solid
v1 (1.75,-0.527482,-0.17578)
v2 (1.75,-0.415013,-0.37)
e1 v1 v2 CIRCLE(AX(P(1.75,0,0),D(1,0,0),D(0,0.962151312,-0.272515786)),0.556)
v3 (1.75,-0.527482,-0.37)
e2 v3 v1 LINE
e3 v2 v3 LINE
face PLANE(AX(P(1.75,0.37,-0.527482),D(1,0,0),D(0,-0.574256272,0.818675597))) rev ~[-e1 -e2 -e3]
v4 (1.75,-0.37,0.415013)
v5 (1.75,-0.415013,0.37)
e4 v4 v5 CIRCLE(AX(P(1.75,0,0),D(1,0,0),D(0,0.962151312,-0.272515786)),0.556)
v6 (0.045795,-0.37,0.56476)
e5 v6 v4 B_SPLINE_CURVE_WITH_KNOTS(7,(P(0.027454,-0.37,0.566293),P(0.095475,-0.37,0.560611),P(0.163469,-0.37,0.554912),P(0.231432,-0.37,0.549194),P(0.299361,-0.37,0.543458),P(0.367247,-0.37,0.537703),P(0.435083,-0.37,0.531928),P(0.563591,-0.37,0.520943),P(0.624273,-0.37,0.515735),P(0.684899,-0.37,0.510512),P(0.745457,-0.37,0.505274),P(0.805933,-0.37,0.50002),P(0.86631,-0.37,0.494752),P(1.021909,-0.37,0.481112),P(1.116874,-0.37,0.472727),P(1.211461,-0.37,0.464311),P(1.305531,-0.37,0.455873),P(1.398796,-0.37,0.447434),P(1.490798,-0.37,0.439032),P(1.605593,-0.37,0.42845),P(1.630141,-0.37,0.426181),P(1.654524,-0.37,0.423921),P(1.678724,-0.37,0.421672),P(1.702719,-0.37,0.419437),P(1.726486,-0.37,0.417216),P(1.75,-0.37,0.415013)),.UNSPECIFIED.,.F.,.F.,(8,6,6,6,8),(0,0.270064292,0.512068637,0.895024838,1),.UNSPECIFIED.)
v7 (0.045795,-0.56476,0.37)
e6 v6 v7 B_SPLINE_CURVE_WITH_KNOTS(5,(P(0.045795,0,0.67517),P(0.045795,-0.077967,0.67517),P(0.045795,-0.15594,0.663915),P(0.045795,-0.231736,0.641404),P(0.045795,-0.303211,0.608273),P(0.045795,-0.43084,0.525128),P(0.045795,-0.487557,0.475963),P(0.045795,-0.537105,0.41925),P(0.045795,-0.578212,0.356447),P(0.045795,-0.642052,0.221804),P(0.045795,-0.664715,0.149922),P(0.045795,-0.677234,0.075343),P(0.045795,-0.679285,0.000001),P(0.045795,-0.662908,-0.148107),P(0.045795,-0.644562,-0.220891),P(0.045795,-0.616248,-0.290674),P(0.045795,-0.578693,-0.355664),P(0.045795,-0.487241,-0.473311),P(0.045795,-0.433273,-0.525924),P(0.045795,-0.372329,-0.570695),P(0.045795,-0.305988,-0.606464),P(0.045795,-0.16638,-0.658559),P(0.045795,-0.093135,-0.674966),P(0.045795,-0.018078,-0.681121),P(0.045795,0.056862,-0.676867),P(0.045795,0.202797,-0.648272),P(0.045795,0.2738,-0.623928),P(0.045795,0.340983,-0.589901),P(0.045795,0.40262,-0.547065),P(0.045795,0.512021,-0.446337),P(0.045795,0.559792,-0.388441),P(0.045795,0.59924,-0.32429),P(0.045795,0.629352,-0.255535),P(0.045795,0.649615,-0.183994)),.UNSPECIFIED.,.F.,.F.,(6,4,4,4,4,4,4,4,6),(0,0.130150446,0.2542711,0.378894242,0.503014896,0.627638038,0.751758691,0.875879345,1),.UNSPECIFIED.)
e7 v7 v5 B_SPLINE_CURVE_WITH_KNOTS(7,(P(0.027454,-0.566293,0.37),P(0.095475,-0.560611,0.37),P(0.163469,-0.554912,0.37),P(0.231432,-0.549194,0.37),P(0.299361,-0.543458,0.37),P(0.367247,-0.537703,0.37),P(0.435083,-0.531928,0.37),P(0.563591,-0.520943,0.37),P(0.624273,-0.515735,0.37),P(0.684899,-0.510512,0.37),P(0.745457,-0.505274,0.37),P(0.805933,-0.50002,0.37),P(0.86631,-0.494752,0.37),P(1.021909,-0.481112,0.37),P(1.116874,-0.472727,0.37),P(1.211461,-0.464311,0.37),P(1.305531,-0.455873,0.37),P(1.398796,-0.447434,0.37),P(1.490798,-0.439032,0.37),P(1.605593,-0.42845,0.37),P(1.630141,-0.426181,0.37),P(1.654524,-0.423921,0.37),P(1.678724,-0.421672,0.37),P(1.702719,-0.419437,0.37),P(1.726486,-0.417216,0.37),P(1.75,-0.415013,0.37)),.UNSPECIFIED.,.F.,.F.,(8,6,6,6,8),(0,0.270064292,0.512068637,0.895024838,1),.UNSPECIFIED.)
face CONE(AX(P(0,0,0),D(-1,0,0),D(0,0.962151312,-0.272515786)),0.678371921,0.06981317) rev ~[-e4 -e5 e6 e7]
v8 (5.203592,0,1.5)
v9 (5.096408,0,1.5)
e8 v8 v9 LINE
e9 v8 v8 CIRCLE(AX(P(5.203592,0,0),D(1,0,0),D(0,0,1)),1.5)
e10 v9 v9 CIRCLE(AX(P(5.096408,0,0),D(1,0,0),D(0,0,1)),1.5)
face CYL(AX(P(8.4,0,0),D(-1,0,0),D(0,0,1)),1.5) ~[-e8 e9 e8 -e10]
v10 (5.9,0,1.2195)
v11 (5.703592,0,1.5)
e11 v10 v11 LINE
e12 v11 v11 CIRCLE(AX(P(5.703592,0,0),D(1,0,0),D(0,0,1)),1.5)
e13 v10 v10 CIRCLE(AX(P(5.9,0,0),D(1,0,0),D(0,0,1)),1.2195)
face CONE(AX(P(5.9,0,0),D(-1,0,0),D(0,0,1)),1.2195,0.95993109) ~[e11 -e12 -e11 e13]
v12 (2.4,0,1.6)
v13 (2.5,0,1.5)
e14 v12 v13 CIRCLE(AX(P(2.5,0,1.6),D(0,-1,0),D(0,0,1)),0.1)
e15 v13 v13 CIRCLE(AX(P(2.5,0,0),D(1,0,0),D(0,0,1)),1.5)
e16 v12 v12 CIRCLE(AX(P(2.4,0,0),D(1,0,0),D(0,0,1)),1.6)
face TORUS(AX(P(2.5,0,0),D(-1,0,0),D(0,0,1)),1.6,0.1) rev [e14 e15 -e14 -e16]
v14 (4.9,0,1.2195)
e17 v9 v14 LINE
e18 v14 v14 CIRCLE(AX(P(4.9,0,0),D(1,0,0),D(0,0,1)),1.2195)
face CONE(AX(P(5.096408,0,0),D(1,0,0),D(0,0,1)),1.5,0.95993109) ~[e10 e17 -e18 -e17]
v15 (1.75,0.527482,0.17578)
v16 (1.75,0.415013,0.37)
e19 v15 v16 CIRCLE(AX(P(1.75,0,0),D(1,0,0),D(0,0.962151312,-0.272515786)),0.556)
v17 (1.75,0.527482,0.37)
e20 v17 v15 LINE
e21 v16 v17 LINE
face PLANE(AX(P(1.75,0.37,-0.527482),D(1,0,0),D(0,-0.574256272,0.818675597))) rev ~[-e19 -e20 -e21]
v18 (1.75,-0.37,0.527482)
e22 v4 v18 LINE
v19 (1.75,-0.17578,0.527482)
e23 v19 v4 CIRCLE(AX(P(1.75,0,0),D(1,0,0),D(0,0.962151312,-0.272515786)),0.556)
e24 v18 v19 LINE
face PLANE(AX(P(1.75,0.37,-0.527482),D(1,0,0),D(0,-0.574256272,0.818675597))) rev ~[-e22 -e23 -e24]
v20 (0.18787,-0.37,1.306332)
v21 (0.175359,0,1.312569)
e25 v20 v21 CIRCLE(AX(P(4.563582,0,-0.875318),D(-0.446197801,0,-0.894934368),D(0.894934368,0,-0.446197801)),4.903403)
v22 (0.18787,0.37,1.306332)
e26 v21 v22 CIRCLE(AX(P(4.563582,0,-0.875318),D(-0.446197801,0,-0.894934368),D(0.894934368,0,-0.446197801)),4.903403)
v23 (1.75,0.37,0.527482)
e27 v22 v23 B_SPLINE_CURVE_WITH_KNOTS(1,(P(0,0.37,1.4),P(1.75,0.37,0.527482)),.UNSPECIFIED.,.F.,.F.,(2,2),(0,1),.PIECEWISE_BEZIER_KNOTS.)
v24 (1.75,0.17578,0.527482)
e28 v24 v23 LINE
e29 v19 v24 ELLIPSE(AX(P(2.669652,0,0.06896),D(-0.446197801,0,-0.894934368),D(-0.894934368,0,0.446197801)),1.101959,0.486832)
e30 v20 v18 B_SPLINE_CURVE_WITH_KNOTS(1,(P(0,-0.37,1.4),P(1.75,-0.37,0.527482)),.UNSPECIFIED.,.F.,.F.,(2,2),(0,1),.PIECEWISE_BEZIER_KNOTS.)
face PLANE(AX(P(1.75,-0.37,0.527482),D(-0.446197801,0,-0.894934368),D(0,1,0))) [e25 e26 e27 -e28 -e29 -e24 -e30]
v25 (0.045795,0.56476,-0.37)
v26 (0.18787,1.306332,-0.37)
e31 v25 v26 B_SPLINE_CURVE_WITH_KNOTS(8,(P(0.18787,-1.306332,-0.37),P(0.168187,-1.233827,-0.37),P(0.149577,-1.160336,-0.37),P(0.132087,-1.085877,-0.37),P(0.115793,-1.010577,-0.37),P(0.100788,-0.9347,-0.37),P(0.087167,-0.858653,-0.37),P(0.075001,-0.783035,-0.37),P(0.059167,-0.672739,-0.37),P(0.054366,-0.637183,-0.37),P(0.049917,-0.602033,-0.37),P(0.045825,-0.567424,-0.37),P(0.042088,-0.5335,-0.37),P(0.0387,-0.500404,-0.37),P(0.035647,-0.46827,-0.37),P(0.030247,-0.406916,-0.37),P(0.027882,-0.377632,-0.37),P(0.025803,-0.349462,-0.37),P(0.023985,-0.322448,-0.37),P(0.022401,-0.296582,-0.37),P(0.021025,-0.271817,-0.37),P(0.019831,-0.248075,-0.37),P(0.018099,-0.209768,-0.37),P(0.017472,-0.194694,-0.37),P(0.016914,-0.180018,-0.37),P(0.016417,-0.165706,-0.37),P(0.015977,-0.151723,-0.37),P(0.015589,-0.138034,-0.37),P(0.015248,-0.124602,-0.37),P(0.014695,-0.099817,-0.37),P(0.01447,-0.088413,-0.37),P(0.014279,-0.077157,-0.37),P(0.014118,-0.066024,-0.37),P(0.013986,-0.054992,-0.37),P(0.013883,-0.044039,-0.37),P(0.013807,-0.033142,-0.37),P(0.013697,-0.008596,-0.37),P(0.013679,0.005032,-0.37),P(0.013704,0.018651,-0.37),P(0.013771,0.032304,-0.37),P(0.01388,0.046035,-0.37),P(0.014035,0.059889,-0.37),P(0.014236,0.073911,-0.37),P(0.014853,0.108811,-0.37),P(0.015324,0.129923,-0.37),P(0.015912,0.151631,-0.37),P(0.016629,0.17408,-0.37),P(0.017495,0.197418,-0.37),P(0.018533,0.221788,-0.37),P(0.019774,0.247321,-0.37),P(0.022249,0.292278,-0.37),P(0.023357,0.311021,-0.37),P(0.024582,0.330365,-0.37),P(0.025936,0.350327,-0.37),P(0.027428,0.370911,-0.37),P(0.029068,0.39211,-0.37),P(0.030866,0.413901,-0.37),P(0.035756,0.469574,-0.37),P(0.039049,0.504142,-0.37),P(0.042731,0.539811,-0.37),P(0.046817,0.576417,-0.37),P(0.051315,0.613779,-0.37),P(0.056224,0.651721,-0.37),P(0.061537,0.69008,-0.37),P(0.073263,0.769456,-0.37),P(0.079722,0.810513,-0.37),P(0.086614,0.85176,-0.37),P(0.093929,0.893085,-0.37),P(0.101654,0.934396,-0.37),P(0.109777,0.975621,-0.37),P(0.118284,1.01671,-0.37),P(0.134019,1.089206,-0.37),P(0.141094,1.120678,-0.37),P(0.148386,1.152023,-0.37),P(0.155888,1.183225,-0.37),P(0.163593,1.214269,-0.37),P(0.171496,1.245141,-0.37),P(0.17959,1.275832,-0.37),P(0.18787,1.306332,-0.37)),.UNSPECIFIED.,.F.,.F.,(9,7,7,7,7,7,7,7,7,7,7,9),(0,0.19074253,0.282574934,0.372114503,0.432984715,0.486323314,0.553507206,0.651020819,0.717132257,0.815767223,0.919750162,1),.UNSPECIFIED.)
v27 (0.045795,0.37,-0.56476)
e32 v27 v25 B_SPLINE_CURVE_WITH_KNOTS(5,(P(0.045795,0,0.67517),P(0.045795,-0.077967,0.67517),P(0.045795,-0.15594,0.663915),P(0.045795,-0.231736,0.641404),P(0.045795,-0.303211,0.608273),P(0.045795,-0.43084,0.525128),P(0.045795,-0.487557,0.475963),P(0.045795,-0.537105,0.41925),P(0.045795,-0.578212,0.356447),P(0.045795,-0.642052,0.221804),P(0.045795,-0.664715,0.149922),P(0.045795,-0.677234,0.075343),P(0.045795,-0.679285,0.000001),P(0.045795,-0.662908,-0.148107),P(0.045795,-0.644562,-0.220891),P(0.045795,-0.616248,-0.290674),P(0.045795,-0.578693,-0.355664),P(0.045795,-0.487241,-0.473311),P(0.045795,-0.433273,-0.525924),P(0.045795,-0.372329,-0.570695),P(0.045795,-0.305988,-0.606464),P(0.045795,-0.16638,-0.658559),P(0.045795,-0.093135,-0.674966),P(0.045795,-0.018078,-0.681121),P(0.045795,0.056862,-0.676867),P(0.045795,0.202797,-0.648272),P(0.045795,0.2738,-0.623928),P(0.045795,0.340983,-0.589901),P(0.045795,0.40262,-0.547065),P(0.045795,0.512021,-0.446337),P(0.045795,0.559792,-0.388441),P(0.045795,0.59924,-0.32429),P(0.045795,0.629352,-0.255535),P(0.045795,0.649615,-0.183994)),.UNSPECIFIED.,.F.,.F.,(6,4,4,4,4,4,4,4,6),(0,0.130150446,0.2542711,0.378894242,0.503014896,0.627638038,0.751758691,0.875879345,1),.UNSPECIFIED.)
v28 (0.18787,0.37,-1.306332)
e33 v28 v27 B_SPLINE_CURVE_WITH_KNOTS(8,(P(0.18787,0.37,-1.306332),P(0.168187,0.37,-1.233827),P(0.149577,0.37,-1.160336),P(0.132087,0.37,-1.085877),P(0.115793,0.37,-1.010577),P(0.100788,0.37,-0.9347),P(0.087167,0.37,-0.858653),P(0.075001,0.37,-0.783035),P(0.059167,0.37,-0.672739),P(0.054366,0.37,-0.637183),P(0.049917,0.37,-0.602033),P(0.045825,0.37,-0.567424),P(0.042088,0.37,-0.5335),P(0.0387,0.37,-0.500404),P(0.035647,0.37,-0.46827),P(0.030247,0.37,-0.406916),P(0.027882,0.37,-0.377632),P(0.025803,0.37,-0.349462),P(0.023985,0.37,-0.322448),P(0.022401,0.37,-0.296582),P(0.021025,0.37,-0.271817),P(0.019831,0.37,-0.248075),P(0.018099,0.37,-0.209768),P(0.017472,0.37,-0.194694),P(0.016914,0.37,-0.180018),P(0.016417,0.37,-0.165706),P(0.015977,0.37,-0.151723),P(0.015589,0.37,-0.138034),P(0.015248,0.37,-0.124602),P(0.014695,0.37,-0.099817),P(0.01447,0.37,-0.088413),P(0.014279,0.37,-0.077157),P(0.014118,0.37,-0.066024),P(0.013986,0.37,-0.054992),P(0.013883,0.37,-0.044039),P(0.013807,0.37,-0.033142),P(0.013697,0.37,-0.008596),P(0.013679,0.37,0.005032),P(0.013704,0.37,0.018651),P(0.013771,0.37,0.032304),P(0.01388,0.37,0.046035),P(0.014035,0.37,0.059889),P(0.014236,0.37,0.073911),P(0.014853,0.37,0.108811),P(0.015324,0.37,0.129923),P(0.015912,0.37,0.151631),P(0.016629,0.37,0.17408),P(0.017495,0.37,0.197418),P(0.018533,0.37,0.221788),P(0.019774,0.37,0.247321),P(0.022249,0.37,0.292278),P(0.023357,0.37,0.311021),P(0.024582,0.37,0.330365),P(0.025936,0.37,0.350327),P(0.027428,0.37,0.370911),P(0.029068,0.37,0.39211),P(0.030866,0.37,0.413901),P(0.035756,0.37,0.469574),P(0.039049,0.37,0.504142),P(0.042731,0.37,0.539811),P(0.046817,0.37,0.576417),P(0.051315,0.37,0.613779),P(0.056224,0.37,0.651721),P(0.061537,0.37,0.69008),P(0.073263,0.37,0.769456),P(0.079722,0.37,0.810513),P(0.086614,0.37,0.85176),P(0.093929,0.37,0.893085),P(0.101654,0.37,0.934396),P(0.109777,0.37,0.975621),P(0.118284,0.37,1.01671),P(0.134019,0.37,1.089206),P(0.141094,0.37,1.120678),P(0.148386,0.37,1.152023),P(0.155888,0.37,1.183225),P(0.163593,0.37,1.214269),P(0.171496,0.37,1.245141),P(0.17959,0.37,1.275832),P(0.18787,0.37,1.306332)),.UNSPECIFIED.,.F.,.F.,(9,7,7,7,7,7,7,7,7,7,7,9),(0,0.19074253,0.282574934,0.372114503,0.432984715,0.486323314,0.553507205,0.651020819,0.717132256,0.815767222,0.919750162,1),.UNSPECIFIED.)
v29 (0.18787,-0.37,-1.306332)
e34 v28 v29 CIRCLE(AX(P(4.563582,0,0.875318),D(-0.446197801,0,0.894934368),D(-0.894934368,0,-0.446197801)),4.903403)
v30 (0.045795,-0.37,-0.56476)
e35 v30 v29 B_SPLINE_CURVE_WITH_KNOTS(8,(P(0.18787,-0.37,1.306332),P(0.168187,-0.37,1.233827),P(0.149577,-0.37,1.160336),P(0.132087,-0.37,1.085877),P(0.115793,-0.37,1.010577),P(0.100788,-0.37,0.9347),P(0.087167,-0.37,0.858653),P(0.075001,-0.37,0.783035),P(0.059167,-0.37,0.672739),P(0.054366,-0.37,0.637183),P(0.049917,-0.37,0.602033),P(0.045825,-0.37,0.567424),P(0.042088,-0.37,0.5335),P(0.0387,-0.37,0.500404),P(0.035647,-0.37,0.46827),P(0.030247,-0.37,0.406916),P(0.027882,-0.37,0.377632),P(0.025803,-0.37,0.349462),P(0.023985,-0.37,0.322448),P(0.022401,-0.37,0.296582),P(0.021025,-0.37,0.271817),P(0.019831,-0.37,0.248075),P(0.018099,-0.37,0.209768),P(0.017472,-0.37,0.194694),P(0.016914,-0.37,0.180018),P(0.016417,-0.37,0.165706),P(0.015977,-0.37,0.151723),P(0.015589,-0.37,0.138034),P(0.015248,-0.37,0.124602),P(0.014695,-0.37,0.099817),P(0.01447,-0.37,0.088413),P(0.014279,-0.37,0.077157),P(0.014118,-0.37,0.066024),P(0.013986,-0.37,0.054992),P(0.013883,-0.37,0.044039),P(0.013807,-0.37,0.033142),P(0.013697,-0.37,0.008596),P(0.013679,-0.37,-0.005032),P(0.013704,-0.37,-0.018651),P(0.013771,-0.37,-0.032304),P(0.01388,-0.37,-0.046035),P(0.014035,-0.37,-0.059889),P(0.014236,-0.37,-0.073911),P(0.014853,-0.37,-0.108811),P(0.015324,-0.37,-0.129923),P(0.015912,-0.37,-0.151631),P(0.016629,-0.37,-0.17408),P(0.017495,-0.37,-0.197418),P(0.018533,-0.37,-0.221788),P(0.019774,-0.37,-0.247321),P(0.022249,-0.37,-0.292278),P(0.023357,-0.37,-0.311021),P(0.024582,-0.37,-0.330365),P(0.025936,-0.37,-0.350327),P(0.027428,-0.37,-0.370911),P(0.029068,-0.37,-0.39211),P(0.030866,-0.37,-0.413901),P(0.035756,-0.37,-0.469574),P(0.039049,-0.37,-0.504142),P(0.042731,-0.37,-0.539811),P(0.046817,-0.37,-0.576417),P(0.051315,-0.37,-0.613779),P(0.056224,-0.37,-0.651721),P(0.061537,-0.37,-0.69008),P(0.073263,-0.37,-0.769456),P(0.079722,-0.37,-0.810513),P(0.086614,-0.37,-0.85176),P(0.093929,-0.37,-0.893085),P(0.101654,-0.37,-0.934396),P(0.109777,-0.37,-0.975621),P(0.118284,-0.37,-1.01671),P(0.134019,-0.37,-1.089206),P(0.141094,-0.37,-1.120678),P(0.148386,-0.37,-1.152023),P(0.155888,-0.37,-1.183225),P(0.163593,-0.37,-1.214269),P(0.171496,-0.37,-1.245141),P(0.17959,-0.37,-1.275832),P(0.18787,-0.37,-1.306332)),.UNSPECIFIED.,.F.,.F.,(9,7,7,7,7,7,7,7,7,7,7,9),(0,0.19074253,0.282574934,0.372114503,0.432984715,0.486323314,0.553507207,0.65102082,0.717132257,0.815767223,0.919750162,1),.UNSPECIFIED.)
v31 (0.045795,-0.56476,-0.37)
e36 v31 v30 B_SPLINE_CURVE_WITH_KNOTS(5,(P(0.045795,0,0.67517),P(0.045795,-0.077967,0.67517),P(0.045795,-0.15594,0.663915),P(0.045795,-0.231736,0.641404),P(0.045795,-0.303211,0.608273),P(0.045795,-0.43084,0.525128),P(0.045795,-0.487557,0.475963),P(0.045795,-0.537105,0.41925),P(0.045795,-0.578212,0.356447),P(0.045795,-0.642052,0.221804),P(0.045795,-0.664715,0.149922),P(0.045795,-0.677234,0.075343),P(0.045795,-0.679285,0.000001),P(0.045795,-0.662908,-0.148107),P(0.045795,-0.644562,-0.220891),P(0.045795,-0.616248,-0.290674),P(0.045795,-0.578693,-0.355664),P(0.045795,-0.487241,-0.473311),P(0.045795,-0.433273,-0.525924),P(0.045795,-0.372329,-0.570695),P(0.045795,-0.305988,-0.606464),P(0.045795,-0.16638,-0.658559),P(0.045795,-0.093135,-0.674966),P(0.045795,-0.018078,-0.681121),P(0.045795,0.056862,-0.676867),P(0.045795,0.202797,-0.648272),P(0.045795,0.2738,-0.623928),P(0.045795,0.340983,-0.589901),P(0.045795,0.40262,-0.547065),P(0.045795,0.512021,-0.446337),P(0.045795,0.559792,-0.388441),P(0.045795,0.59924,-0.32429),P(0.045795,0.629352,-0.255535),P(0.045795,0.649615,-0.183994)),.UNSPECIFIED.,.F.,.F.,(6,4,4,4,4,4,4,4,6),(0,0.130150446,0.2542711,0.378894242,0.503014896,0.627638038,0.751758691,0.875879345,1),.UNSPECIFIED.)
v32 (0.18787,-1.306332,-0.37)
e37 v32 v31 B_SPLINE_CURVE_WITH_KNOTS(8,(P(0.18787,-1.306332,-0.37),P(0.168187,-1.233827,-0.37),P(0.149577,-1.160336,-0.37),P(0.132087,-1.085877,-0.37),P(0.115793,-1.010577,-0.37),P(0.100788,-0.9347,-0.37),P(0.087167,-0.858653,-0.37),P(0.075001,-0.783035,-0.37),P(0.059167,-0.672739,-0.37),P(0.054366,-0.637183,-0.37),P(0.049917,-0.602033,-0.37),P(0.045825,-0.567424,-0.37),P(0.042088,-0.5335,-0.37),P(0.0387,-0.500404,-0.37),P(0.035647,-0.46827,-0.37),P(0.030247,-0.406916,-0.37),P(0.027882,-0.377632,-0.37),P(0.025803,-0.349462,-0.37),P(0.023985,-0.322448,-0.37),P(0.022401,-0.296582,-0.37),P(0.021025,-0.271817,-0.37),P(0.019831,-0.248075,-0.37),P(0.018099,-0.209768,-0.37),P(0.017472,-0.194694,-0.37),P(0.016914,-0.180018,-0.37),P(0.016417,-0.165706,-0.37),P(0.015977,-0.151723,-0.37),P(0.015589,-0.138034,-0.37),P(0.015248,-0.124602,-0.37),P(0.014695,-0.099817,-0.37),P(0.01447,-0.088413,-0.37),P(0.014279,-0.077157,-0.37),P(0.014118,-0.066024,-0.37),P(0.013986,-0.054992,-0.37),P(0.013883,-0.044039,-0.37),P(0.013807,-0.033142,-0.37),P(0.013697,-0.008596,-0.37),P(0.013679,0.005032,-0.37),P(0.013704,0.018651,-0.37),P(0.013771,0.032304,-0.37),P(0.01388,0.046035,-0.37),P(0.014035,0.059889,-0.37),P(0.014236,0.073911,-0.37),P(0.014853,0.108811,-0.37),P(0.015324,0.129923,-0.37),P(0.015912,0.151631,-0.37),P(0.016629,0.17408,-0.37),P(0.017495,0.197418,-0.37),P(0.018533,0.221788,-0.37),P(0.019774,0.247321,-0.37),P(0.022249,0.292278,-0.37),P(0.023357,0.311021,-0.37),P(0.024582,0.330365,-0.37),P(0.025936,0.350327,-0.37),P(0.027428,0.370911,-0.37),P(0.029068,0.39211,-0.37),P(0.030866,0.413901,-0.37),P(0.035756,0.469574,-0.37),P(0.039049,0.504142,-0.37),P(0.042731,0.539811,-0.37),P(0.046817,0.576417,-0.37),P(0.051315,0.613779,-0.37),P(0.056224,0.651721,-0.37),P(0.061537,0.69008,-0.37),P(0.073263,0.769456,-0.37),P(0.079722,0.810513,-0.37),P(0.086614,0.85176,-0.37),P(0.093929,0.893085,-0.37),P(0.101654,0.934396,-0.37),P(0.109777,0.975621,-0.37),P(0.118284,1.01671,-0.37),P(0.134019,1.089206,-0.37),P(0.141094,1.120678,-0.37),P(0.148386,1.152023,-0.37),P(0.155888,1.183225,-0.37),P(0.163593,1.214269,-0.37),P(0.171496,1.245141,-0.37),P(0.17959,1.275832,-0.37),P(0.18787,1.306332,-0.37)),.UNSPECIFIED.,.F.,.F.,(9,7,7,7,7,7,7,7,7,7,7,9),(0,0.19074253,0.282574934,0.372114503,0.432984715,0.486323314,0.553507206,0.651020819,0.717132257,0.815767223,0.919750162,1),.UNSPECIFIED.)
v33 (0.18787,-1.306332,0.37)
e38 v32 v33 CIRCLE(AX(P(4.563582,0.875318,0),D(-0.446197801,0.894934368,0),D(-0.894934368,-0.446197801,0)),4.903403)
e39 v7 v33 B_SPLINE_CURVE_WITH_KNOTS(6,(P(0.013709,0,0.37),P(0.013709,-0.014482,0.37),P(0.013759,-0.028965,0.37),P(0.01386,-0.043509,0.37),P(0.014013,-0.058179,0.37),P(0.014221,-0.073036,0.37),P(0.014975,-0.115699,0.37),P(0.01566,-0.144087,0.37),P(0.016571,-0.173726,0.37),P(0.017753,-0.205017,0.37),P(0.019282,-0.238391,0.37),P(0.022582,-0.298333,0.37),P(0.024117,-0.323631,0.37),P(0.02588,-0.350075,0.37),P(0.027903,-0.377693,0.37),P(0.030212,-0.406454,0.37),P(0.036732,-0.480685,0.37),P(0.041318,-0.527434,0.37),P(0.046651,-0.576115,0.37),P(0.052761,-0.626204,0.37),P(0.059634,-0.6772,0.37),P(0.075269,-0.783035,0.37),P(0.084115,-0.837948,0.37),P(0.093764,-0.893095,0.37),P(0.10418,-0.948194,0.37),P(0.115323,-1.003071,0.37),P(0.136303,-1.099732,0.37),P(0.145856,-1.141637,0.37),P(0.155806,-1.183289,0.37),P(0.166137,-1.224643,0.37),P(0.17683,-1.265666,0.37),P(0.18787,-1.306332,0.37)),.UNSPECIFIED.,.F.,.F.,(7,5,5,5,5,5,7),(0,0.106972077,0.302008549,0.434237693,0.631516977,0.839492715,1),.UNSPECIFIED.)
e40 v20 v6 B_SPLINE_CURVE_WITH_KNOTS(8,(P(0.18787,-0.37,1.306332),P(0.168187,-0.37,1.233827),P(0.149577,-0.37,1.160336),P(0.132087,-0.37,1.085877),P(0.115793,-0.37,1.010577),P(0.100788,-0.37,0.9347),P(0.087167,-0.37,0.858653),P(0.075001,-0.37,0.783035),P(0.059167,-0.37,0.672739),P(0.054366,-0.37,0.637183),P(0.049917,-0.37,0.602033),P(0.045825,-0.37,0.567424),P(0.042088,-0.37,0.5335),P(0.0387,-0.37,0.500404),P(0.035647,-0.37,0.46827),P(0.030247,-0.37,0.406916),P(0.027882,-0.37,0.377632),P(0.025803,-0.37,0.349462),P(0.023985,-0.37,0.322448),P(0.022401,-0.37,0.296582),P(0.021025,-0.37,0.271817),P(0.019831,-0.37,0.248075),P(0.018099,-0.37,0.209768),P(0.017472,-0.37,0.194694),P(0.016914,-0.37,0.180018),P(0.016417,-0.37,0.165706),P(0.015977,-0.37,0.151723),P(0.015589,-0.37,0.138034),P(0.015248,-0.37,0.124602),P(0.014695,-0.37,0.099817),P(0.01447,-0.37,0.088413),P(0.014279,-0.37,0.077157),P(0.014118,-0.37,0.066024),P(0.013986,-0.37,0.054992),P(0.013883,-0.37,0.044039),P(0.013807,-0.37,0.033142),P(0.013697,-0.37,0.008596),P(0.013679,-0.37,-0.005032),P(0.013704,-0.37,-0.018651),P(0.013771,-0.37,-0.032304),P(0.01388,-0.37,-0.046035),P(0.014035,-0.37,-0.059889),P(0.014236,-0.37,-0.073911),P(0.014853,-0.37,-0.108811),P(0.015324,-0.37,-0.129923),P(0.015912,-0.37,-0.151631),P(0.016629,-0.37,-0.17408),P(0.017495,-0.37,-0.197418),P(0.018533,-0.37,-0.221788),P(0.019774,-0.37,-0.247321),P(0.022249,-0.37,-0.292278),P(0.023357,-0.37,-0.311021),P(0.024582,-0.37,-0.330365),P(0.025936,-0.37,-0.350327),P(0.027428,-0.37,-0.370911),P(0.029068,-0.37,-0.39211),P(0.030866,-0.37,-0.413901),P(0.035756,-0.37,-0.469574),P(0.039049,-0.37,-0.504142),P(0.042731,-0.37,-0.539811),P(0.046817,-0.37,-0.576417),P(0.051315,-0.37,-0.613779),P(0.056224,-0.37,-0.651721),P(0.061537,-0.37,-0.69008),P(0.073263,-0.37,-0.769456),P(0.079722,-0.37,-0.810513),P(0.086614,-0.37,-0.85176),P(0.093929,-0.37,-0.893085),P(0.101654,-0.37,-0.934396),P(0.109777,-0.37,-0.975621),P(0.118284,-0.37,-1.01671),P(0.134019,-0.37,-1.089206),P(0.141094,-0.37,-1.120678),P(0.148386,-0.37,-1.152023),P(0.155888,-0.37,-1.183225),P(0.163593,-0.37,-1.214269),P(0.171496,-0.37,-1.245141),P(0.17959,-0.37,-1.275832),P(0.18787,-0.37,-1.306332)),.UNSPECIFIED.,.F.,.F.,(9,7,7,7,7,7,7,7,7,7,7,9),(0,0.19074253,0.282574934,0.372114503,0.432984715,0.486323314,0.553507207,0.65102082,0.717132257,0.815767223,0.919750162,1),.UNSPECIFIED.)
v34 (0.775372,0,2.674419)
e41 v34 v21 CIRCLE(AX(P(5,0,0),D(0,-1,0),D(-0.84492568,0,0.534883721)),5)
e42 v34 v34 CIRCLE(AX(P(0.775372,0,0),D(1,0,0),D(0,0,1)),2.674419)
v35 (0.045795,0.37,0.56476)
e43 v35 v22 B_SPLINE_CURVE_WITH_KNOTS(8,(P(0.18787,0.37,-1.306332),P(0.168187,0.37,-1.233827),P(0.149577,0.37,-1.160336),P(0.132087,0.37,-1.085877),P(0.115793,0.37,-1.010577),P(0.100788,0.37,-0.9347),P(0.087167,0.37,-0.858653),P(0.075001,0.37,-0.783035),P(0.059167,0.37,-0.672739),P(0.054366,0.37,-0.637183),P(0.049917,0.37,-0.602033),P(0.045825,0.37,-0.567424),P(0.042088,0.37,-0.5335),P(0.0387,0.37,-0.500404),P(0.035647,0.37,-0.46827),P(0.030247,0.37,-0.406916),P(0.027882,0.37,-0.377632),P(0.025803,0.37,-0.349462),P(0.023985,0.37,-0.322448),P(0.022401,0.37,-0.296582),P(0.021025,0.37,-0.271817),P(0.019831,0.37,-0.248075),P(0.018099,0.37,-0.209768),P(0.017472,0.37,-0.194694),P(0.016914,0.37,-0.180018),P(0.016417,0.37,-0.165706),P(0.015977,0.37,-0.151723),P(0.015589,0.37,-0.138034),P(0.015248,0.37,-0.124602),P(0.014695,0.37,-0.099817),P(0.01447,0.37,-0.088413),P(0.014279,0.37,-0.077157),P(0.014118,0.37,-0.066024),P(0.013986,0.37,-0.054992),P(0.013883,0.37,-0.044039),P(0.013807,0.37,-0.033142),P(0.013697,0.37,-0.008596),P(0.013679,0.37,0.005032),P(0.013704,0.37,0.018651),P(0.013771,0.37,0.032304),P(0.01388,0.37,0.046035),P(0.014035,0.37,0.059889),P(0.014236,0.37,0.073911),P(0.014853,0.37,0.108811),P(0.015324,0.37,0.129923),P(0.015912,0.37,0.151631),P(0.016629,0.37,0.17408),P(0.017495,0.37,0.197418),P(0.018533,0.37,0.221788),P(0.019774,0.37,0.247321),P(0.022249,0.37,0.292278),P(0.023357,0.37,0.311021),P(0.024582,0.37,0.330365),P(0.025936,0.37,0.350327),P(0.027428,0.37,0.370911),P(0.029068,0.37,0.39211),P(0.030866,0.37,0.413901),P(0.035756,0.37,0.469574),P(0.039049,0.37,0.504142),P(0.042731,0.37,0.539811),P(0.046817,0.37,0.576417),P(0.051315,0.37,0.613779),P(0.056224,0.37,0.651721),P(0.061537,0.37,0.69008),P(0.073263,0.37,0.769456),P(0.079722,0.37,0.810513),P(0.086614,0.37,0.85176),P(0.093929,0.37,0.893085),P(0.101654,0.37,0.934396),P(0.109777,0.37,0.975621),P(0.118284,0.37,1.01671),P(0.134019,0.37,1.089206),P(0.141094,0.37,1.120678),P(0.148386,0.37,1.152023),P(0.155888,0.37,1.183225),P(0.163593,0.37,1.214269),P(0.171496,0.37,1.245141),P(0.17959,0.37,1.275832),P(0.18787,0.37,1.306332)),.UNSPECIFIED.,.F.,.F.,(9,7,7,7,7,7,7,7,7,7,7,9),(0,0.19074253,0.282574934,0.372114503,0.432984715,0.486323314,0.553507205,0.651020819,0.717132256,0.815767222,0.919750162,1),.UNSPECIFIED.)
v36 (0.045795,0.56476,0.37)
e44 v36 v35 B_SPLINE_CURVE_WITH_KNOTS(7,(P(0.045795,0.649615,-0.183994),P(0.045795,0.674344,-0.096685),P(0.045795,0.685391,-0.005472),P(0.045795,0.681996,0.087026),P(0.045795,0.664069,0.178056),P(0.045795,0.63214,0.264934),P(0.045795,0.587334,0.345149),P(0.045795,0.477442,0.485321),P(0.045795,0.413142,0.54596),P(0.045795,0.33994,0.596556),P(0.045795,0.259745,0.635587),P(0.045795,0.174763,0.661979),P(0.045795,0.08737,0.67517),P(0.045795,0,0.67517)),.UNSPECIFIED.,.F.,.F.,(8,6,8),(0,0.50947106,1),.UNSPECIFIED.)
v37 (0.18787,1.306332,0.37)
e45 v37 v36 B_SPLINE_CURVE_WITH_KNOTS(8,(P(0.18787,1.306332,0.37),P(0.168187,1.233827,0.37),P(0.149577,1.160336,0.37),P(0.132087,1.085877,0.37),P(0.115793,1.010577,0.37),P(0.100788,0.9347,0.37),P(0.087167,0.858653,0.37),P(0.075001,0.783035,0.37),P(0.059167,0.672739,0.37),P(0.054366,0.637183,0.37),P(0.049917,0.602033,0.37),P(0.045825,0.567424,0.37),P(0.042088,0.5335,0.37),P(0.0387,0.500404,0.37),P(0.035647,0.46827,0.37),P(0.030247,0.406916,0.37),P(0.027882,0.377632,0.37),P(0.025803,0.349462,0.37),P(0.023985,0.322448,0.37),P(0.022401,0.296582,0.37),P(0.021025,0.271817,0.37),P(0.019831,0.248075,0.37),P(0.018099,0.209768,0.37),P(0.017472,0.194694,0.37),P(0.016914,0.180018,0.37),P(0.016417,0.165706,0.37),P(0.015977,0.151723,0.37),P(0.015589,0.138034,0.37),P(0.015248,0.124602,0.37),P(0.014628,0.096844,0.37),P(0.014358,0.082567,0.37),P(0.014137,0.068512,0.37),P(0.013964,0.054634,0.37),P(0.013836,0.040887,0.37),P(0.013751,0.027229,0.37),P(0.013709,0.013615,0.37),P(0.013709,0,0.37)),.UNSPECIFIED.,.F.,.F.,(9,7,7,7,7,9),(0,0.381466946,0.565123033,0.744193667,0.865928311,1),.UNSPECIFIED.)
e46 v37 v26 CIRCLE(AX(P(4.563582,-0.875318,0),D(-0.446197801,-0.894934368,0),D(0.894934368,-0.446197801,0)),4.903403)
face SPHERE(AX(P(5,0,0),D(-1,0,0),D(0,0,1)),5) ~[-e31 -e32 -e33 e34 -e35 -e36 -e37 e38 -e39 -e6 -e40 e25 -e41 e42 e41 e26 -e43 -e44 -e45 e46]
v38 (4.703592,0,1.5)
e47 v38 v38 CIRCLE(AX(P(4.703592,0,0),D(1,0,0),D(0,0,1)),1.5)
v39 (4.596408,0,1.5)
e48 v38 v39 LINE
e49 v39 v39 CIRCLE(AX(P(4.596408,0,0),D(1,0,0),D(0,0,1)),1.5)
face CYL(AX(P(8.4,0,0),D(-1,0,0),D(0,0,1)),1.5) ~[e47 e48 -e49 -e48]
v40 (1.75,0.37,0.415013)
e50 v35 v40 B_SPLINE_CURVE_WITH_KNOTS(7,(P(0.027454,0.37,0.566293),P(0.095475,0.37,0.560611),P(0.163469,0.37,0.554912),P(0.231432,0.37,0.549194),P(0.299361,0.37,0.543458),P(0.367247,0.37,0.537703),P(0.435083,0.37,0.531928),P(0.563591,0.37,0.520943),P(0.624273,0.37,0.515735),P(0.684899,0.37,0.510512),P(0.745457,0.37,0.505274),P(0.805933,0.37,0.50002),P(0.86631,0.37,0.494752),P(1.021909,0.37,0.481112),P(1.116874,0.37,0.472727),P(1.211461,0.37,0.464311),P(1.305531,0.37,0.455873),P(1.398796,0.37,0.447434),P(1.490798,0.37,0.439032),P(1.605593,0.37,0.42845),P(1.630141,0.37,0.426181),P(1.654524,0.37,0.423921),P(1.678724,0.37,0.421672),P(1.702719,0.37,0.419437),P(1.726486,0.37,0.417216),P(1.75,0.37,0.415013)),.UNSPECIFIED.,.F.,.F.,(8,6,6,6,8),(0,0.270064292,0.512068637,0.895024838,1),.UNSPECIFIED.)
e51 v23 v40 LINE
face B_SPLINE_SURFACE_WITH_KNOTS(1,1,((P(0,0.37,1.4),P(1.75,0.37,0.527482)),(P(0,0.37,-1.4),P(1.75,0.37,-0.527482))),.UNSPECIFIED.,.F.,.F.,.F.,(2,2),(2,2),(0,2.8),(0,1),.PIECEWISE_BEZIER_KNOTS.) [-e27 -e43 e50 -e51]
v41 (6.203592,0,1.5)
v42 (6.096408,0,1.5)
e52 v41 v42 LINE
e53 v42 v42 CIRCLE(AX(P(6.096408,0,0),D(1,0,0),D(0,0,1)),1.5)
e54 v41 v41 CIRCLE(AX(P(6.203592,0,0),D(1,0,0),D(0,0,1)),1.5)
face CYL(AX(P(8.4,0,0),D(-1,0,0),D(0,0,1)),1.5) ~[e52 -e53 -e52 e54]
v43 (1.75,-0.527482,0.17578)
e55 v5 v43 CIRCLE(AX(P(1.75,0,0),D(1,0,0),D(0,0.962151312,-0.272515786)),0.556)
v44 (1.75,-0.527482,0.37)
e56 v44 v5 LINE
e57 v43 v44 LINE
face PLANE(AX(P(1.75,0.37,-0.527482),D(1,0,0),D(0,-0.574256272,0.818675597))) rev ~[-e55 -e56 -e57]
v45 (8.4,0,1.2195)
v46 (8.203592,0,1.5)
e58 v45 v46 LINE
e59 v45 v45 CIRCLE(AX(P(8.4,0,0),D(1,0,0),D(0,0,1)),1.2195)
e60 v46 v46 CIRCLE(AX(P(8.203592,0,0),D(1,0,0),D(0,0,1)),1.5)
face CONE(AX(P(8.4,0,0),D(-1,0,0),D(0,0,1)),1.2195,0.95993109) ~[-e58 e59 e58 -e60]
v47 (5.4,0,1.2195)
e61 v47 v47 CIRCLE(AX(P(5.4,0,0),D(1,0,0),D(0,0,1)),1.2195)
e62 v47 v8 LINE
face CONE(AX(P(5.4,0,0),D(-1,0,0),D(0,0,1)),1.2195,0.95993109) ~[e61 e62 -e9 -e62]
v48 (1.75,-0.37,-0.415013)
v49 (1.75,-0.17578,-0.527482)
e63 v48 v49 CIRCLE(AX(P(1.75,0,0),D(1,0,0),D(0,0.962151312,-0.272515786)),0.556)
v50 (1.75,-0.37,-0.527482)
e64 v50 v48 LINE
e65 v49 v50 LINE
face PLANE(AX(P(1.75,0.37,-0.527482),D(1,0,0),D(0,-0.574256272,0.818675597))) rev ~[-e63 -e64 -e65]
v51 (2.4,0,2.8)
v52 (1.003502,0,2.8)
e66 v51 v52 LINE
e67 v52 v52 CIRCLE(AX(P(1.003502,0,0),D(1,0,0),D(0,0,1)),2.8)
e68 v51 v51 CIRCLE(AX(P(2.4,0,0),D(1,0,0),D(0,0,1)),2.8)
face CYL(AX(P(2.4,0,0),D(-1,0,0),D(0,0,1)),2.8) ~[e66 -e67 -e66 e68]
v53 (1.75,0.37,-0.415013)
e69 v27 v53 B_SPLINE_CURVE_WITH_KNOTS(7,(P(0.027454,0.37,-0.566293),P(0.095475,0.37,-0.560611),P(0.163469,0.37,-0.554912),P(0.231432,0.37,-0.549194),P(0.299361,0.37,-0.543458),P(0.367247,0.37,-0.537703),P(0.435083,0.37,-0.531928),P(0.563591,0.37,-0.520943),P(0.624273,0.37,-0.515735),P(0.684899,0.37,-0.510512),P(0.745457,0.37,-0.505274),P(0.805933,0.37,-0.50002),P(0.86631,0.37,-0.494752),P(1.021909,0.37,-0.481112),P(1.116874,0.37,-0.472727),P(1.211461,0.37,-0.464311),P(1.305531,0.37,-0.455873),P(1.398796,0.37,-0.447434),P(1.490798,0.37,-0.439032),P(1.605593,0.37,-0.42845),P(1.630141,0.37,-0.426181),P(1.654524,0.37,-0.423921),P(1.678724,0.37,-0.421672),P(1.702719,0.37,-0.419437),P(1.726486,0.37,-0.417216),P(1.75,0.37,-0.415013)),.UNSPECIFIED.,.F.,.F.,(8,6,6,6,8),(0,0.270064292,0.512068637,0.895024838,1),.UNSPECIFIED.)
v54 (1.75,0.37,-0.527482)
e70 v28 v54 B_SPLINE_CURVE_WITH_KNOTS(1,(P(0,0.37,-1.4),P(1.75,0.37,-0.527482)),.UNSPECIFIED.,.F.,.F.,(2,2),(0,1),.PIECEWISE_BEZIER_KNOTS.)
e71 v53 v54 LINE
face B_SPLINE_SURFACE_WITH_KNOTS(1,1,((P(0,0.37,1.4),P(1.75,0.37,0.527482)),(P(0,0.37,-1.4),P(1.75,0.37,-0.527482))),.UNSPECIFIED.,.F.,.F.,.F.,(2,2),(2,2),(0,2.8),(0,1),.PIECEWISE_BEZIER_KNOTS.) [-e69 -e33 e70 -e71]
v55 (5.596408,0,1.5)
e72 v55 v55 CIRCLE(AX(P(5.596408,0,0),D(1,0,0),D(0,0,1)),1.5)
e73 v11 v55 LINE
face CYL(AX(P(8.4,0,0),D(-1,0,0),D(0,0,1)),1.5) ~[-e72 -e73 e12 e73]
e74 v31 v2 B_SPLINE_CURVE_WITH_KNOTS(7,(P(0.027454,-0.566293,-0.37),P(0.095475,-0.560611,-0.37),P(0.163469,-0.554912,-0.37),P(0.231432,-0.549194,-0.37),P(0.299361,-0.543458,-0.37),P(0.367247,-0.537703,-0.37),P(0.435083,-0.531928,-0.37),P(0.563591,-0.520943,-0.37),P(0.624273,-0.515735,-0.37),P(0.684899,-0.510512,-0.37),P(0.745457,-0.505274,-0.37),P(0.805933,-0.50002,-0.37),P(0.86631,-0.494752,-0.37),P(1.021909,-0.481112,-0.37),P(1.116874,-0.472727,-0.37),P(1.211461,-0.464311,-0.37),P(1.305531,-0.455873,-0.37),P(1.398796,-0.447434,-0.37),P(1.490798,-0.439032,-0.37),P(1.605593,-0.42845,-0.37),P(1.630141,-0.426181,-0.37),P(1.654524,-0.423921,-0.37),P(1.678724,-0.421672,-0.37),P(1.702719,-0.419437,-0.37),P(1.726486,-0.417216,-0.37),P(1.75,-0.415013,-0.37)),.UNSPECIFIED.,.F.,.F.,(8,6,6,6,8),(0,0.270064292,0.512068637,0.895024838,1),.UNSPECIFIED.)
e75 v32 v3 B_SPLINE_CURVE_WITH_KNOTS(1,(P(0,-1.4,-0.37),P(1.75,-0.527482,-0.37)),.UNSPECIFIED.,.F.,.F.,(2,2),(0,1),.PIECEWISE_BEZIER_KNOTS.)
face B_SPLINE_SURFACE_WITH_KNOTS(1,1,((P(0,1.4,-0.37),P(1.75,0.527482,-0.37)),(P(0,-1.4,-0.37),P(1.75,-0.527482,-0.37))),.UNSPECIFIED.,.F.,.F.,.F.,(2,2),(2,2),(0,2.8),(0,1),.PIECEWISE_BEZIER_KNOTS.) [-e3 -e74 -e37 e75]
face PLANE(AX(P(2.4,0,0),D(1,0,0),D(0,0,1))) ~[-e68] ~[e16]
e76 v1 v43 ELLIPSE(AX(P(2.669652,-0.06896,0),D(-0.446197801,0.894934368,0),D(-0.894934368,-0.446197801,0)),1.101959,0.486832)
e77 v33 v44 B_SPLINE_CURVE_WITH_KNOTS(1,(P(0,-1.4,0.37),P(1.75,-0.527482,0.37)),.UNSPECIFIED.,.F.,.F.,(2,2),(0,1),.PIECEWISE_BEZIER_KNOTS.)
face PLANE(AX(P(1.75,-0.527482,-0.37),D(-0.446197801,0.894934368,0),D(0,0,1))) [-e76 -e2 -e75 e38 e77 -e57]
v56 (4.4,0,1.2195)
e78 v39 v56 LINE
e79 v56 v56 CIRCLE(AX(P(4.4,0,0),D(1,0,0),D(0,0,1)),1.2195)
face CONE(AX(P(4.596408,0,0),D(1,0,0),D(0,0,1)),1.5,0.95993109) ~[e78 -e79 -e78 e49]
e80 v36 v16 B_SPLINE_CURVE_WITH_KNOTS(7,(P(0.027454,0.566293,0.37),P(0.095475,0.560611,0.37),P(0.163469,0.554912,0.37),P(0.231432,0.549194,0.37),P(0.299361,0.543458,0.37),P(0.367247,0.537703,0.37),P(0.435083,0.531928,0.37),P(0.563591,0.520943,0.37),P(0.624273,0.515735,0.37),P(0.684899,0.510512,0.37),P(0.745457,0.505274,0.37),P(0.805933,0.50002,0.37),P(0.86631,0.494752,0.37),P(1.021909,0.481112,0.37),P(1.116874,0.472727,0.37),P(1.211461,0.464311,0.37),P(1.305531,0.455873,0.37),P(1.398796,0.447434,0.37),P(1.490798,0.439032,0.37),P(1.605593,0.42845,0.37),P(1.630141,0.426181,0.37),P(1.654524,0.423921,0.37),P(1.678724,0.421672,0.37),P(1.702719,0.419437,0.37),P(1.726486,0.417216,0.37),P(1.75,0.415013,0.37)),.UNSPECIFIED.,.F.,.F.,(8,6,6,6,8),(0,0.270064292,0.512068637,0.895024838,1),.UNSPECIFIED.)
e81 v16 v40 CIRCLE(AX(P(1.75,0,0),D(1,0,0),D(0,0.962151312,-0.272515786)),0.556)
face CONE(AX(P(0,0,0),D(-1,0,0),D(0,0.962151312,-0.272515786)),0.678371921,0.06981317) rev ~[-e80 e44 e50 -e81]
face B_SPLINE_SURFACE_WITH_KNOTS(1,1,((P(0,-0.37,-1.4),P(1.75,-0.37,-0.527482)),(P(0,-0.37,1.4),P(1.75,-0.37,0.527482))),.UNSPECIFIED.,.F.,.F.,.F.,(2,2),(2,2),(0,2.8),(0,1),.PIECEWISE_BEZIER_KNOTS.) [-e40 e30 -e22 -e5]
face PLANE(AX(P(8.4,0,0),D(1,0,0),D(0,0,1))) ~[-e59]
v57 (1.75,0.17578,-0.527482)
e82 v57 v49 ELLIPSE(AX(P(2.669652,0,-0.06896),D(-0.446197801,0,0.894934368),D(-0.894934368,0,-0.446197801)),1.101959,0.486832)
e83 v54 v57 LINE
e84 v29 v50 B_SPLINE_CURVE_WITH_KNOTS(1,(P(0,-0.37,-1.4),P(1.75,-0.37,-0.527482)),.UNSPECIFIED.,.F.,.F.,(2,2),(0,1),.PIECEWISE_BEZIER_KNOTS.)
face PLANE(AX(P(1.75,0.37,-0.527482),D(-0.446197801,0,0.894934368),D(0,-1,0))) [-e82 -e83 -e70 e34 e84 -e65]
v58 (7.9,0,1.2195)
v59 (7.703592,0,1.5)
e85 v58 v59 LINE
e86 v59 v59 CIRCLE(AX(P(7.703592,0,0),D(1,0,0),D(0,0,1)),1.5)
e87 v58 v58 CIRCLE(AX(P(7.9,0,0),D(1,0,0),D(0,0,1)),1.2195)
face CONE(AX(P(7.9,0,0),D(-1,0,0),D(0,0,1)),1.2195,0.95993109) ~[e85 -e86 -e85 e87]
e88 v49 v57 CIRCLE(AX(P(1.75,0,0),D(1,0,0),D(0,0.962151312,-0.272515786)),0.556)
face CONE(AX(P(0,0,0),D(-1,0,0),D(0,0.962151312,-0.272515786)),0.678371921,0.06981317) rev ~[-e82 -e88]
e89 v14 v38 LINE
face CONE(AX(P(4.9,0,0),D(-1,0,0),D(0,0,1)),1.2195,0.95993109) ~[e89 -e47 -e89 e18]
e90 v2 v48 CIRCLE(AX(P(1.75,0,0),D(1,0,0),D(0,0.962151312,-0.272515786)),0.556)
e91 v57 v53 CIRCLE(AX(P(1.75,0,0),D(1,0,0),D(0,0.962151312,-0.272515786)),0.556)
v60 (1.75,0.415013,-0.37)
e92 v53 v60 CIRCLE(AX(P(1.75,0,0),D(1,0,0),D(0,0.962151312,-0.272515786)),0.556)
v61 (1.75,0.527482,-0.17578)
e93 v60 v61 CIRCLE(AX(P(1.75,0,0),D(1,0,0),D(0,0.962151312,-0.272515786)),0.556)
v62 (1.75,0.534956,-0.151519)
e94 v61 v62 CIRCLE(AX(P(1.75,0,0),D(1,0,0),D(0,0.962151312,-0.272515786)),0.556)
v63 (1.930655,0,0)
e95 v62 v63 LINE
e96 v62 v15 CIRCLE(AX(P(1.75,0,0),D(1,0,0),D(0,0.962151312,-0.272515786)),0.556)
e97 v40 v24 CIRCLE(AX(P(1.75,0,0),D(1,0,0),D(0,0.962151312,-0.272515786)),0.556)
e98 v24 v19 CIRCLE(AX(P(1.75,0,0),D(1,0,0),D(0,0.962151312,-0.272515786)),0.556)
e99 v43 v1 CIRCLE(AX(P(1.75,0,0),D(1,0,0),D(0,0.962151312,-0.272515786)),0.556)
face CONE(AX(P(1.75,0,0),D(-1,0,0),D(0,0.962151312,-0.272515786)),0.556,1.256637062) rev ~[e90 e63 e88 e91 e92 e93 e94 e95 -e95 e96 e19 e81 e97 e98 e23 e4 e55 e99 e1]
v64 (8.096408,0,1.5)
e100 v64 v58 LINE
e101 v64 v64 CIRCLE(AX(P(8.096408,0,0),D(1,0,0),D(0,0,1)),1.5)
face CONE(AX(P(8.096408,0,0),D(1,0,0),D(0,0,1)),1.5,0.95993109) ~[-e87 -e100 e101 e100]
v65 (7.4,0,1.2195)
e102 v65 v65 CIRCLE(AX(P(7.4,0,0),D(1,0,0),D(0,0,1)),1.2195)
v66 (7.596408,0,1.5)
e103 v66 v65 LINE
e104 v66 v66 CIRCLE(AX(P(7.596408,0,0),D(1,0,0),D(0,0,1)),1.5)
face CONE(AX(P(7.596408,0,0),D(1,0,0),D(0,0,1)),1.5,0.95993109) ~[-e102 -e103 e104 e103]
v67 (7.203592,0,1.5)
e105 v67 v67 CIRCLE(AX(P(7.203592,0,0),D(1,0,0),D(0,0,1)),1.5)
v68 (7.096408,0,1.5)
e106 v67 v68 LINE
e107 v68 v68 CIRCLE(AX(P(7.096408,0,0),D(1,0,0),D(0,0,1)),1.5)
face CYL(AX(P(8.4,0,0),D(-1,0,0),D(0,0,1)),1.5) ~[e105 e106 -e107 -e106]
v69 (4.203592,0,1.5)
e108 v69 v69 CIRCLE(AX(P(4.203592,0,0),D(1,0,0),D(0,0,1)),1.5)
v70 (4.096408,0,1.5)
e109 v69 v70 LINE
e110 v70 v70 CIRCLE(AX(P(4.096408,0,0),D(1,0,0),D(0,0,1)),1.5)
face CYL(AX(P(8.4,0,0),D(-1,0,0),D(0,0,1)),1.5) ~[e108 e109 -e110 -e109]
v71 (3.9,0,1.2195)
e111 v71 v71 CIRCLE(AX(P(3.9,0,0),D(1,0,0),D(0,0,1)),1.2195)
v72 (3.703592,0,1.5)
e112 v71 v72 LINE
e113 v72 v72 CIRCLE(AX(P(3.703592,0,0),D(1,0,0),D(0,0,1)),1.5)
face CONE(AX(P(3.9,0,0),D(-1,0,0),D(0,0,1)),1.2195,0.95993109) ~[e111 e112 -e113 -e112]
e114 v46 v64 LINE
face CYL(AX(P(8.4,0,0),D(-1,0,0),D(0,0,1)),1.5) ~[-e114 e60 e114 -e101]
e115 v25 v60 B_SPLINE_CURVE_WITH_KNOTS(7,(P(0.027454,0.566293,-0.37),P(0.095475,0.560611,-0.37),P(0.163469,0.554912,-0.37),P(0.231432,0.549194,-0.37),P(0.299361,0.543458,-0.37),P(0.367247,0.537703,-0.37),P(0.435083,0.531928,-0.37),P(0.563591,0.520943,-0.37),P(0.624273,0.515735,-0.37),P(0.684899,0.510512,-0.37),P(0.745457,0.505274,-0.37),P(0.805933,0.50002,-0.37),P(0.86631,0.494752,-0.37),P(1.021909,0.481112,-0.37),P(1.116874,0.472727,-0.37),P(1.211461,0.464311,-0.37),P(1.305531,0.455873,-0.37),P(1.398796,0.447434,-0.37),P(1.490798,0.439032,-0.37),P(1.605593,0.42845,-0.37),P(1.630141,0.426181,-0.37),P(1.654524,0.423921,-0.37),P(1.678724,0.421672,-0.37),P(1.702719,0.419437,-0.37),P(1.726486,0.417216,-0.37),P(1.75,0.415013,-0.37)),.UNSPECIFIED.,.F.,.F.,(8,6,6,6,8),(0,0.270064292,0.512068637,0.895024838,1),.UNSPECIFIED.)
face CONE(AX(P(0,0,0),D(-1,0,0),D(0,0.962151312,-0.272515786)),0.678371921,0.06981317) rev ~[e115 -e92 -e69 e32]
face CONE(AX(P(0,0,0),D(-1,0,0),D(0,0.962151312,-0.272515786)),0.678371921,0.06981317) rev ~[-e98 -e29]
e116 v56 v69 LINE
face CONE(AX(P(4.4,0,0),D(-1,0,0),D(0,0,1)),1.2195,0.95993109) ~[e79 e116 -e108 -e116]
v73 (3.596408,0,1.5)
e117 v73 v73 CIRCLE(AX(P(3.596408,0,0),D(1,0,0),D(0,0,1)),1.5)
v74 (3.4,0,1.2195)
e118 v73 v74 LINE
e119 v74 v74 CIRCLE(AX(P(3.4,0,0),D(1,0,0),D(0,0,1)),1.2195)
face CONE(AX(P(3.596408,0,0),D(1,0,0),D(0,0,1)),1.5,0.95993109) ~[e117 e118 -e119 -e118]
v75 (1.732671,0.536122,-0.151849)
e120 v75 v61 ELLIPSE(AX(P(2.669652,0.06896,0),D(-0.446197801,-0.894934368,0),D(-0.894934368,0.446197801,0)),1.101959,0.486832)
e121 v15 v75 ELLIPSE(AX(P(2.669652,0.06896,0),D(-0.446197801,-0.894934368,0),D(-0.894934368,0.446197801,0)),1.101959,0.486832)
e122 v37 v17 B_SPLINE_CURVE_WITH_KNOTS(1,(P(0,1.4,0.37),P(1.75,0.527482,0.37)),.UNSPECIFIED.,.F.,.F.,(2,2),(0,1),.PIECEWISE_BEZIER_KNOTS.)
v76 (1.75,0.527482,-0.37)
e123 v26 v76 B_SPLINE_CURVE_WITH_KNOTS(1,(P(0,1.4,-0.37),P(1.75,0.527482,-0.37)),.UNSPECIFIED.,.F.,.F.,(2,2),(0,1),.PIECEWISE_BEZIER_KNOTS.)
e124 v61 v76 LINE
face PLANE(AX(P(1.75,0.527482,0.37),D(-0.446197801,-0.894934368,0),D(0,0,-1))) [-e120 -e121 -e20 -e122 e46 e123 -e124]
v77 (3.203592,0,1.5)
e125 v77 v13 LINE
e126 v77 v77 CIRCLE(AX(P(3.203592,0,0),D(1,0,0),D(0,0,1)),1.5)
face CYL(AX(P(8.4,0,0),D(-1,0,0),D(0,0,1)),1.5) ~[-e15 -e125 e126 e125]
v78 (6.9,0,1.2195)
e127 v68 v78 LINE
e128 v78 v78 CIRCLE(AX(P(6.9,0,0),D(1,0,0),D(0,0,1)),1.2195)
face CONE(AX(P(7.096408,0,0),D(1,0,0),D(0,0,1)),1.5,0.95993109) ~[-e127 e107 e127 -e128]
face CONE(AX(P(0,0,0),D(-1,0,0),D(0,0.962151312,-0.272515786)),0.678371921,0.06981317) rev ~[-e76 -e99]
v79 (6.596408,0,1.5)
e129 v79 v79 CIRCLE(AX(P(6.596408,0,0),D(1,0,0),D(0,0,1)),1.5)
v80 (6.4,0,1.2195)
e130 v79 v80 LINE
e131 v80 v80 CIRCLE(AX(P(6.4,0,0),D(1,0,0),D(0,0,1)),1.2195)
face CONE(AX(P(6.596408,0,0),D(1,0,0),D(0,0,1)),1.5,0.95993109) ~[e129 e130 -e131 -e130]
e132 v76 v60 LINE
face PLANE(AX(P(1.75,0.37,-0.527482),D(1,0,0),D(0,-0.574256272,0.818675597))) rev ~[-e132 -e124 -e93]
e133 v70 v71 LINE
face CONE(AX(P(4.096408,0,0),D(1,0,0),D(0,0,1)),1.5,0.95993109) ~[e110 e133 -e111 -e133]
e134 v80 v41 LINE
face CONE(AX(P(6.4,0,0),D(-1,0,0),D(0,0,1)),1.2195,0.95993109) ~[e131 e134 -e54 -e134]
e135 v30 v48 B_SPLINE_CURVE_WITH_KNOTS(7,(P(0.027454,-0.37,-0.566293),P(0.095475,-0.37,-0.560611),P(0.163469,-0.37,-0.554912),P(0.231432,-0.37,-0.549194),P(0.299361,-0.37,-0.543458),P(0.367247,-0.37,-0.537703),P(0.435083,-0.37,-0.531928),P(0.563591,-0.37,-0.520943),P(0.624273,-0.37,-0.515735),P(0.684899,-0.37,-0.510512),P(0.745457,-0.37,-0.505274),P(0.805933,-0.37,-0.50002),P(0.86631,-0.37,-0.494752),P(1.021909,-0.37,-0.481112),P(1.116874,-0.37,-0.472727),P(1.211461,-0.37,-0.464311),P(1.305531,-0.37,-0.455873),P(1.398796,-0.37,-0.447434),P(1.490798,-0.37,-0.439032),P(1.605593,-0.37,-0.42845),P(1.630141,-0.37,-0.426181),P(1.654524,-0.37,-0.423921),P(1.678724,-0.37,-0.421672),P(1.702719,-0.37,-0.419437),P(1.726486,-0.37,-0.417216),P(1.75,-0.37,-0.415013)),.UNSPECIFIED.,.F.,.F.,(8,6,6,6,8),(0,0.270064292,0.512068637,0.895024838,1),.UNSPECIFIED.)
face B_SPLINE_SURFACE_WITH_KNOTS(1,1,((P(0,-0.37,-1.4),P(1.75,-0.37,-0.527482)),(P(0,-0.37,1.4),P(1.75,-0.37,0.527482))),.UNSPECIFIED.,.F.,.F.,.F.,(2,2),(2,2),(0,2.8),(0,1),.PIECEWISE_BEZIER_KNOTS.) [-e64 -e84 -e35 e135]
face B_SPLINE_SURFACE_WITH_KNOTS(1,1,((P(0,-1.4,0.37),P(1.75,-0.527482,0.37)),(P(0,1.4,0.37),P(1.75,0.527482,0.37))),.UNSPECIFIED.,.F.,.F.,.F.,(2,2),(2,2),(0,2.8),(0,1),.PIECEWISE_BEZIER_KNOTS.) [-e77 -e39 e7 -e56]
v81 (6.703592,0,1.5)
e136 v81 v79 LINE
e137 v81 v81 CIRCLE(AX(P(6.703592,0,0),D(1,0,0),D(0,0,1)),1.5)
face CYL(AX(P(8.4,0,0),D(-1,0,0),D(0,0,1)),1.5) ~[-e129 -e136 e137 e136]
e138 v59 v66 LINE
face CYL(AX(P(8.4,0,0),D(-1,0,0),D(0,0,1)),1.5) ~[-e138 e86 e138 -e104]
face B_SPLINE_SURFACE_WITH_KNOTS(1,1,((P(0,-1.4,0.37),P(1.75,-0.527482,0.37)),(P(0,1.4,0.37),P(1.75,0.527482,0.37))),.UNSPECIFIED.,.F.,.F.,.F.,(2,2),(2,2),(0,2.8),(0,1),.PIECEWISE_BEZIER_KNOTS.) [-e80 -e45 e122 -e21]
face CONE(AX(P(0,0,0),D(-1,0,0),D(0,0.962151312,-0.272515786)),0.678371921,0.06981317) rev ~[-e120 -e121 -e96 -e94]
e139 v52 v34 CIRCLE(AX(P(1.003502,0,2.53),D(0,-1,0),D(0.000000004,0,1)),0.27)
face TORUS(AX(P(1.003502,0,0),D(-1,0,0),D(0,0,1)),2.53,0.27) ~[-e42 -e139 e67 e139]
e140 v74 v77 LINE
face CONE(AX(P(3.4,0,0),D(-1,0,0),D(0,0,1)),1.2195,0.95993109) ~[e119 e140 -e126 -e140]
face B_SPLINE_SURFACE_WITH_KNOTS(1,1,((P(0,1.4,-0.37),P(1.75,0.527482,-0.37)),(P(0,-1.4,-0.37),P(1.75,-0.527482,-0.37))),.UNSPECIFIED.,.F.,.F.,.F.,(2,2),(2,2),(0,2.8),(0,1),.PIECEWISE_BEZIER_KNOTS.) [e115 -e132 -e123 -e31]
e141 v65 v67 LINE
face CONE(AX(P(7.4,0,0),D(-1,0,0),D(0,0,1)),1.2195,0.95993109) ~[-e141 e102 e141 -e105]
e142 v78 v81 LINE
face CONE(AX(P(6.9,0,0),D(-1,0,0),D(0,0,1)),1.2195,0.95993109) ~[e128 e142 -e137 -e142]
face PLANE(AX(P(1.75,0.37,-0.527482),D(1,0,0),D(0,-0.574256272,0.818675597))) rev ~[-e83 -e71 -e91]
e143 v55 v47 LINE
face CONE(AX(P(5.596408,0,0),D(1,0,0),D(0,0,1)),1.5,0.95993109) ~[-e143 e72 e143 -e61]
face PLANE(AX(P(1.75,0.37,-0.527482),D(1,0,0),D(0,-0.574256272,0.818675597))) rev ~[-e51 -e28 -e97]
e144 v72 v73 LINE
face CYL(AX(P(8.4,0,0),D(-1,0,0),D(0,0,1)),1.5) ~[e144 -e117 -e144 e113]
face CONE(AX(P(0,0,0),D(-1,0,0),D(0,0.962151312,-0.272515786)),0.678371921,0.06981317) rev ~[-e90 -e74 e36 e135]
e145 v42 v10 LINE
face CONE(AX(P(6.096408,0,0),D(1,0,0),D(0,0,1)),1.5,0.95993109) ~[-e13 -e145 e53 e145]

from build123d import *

# Parameters (mm, degrees)
FILLET1_R       = 0.1
RECPAT_COUNT    = 2
RECPAT_ANGLE    = 90
THDSCHPAT_COUNT = 11
THDSCHPAT_PITCH = 0.5


with BuildPart() as part:
    # BodySke → Base-Revolve (revolve)
    with BuildSketch(Plane.XY, mode=Mode.PRIVATE) as base_revolve_sk:
        with BuildLine():
            Line((2.4, 1.5), (2.4, 2.8))
            Line((2.4, 2.8), (1.003501533, 2.8))
            ThreePointArc((1.003501533, 2.8), (0.873295971, 2.76653015), (0.775371599, 2.674418605))
            ThreePointArc((0.775371599, 2.674418605), (0.197753546, 1.392274756), (0, 0))
            Line((0, 0), (8.4, 0))
            Line((8.4, 0), (8.4, 1.5))
            Line((8.4, 1.5), (2.4, 1.5))
        make_face()
    revolve(base_revolve_sk.sketch.rotate(Axis((1.003501533, 0, 0), (1, 0, 0)), 90), axis=Axis((1.003501533, 0, 0), (1, 0, 0)))

    # Fillet1
    fillet1_edges = [part.edges().sort_by_distance(p)[0] for p in [
        (2.4, 0, -1.5),
    ]]
    fillet(fillet1_edges, radius=FILLET1_R)

    # Sketch3 → Recess section 0
    with BuildSketch(Plane(origin=(0, 0, 0), x_dir=(0, 0, -1), z_dir=(1, 0, 0))):
        with BuildLine():
            Line((0.37, -1.4), (-0.37, -1.4))
            Line((-0.37, -1.4), (-0.37, 1.4))
            Line((-0.37, 1.4), (0.37, 1.4))
            Line((0.37, 1.4), (0.37, -1.4))
        make_face()
    # Sketch4 → Recess section 1
    with BuildSketch(Plane(origin=(1.75, 0, 0), x_dir=(0, 0, -1), z_dir=(1, 0, 0))):
        with BuildLine():
            Line((0.37, -0.527482216), (-0.37, -0.527482216))
            Line((-0.37, -0.527482216), (-0.37, 0.527482216))
            Line((-0.37, 0.527482216), (0.37, 0.527482216))
            Line((0.37, 0.527482216), (0.37, -0.527482216))
        make_face()
    recess = loft(mode=Mode.SUBTRACT)

    # RecPat: Recess ×2 about axis
    recpat_axis = Axis((0, 0, 0), (1, 0, 0))
    for i in range(1, RECPAT_COUNT):
        add(recess.rotate(recpat_axis, i * RECPAT_ANGLE / (RECPAT_COUNT - 1)), mode=Mode.SUBTRACT)

    # RecCorSke → RecessCore (revolve, cut)
    with BuildSketch(Plane.XY, mode=Mode.PRIVATE) as recesscore_sk:
        Polygon((0, 0), (0, 0.678371921), (1.75, 0.556), (1.930655351, 0), align=None)
    revolve(recesscore_sk.sketch.rotate(Axis((-3.175, 0, 0), (1, 0, 0)), 344.185974236), axis=Axis((-3.175, 0, 0), (1, 0, 0)), mode=Mode.SUBTRACT)

    # ThdSchSke → ThreadSchematic (revolve, cut)
    with BuildSketch(Plane.XY, mode=Mode.PRIVATE) as threadschematic_sk:
        Polygon((3.4, -1.2195), (3.203591786, -1.5), (3.203591786, -1.875), (3.596408214, -1.875), (3.596408214, -1.5), align=None)
    threadschematic = revolve(threadschematic_sk.sketch.rotate(Axis((-3.175, 0, 0), (1, 0, 0)), 270), axis=Axis((-3.175, 0, 0), (1, 0, 0)), mode=Mode.SUBTRACT)

    # ThdSchPat: ThreadSchematic ×11
    with Locations(*[(i * THDSCHPAT_PITCH, 0, 0) for i in range(1, THDSCHPAT_COUNT)]):
        add(threadschematic, mode=Mode.SUBTRACT)


solid = part.part
